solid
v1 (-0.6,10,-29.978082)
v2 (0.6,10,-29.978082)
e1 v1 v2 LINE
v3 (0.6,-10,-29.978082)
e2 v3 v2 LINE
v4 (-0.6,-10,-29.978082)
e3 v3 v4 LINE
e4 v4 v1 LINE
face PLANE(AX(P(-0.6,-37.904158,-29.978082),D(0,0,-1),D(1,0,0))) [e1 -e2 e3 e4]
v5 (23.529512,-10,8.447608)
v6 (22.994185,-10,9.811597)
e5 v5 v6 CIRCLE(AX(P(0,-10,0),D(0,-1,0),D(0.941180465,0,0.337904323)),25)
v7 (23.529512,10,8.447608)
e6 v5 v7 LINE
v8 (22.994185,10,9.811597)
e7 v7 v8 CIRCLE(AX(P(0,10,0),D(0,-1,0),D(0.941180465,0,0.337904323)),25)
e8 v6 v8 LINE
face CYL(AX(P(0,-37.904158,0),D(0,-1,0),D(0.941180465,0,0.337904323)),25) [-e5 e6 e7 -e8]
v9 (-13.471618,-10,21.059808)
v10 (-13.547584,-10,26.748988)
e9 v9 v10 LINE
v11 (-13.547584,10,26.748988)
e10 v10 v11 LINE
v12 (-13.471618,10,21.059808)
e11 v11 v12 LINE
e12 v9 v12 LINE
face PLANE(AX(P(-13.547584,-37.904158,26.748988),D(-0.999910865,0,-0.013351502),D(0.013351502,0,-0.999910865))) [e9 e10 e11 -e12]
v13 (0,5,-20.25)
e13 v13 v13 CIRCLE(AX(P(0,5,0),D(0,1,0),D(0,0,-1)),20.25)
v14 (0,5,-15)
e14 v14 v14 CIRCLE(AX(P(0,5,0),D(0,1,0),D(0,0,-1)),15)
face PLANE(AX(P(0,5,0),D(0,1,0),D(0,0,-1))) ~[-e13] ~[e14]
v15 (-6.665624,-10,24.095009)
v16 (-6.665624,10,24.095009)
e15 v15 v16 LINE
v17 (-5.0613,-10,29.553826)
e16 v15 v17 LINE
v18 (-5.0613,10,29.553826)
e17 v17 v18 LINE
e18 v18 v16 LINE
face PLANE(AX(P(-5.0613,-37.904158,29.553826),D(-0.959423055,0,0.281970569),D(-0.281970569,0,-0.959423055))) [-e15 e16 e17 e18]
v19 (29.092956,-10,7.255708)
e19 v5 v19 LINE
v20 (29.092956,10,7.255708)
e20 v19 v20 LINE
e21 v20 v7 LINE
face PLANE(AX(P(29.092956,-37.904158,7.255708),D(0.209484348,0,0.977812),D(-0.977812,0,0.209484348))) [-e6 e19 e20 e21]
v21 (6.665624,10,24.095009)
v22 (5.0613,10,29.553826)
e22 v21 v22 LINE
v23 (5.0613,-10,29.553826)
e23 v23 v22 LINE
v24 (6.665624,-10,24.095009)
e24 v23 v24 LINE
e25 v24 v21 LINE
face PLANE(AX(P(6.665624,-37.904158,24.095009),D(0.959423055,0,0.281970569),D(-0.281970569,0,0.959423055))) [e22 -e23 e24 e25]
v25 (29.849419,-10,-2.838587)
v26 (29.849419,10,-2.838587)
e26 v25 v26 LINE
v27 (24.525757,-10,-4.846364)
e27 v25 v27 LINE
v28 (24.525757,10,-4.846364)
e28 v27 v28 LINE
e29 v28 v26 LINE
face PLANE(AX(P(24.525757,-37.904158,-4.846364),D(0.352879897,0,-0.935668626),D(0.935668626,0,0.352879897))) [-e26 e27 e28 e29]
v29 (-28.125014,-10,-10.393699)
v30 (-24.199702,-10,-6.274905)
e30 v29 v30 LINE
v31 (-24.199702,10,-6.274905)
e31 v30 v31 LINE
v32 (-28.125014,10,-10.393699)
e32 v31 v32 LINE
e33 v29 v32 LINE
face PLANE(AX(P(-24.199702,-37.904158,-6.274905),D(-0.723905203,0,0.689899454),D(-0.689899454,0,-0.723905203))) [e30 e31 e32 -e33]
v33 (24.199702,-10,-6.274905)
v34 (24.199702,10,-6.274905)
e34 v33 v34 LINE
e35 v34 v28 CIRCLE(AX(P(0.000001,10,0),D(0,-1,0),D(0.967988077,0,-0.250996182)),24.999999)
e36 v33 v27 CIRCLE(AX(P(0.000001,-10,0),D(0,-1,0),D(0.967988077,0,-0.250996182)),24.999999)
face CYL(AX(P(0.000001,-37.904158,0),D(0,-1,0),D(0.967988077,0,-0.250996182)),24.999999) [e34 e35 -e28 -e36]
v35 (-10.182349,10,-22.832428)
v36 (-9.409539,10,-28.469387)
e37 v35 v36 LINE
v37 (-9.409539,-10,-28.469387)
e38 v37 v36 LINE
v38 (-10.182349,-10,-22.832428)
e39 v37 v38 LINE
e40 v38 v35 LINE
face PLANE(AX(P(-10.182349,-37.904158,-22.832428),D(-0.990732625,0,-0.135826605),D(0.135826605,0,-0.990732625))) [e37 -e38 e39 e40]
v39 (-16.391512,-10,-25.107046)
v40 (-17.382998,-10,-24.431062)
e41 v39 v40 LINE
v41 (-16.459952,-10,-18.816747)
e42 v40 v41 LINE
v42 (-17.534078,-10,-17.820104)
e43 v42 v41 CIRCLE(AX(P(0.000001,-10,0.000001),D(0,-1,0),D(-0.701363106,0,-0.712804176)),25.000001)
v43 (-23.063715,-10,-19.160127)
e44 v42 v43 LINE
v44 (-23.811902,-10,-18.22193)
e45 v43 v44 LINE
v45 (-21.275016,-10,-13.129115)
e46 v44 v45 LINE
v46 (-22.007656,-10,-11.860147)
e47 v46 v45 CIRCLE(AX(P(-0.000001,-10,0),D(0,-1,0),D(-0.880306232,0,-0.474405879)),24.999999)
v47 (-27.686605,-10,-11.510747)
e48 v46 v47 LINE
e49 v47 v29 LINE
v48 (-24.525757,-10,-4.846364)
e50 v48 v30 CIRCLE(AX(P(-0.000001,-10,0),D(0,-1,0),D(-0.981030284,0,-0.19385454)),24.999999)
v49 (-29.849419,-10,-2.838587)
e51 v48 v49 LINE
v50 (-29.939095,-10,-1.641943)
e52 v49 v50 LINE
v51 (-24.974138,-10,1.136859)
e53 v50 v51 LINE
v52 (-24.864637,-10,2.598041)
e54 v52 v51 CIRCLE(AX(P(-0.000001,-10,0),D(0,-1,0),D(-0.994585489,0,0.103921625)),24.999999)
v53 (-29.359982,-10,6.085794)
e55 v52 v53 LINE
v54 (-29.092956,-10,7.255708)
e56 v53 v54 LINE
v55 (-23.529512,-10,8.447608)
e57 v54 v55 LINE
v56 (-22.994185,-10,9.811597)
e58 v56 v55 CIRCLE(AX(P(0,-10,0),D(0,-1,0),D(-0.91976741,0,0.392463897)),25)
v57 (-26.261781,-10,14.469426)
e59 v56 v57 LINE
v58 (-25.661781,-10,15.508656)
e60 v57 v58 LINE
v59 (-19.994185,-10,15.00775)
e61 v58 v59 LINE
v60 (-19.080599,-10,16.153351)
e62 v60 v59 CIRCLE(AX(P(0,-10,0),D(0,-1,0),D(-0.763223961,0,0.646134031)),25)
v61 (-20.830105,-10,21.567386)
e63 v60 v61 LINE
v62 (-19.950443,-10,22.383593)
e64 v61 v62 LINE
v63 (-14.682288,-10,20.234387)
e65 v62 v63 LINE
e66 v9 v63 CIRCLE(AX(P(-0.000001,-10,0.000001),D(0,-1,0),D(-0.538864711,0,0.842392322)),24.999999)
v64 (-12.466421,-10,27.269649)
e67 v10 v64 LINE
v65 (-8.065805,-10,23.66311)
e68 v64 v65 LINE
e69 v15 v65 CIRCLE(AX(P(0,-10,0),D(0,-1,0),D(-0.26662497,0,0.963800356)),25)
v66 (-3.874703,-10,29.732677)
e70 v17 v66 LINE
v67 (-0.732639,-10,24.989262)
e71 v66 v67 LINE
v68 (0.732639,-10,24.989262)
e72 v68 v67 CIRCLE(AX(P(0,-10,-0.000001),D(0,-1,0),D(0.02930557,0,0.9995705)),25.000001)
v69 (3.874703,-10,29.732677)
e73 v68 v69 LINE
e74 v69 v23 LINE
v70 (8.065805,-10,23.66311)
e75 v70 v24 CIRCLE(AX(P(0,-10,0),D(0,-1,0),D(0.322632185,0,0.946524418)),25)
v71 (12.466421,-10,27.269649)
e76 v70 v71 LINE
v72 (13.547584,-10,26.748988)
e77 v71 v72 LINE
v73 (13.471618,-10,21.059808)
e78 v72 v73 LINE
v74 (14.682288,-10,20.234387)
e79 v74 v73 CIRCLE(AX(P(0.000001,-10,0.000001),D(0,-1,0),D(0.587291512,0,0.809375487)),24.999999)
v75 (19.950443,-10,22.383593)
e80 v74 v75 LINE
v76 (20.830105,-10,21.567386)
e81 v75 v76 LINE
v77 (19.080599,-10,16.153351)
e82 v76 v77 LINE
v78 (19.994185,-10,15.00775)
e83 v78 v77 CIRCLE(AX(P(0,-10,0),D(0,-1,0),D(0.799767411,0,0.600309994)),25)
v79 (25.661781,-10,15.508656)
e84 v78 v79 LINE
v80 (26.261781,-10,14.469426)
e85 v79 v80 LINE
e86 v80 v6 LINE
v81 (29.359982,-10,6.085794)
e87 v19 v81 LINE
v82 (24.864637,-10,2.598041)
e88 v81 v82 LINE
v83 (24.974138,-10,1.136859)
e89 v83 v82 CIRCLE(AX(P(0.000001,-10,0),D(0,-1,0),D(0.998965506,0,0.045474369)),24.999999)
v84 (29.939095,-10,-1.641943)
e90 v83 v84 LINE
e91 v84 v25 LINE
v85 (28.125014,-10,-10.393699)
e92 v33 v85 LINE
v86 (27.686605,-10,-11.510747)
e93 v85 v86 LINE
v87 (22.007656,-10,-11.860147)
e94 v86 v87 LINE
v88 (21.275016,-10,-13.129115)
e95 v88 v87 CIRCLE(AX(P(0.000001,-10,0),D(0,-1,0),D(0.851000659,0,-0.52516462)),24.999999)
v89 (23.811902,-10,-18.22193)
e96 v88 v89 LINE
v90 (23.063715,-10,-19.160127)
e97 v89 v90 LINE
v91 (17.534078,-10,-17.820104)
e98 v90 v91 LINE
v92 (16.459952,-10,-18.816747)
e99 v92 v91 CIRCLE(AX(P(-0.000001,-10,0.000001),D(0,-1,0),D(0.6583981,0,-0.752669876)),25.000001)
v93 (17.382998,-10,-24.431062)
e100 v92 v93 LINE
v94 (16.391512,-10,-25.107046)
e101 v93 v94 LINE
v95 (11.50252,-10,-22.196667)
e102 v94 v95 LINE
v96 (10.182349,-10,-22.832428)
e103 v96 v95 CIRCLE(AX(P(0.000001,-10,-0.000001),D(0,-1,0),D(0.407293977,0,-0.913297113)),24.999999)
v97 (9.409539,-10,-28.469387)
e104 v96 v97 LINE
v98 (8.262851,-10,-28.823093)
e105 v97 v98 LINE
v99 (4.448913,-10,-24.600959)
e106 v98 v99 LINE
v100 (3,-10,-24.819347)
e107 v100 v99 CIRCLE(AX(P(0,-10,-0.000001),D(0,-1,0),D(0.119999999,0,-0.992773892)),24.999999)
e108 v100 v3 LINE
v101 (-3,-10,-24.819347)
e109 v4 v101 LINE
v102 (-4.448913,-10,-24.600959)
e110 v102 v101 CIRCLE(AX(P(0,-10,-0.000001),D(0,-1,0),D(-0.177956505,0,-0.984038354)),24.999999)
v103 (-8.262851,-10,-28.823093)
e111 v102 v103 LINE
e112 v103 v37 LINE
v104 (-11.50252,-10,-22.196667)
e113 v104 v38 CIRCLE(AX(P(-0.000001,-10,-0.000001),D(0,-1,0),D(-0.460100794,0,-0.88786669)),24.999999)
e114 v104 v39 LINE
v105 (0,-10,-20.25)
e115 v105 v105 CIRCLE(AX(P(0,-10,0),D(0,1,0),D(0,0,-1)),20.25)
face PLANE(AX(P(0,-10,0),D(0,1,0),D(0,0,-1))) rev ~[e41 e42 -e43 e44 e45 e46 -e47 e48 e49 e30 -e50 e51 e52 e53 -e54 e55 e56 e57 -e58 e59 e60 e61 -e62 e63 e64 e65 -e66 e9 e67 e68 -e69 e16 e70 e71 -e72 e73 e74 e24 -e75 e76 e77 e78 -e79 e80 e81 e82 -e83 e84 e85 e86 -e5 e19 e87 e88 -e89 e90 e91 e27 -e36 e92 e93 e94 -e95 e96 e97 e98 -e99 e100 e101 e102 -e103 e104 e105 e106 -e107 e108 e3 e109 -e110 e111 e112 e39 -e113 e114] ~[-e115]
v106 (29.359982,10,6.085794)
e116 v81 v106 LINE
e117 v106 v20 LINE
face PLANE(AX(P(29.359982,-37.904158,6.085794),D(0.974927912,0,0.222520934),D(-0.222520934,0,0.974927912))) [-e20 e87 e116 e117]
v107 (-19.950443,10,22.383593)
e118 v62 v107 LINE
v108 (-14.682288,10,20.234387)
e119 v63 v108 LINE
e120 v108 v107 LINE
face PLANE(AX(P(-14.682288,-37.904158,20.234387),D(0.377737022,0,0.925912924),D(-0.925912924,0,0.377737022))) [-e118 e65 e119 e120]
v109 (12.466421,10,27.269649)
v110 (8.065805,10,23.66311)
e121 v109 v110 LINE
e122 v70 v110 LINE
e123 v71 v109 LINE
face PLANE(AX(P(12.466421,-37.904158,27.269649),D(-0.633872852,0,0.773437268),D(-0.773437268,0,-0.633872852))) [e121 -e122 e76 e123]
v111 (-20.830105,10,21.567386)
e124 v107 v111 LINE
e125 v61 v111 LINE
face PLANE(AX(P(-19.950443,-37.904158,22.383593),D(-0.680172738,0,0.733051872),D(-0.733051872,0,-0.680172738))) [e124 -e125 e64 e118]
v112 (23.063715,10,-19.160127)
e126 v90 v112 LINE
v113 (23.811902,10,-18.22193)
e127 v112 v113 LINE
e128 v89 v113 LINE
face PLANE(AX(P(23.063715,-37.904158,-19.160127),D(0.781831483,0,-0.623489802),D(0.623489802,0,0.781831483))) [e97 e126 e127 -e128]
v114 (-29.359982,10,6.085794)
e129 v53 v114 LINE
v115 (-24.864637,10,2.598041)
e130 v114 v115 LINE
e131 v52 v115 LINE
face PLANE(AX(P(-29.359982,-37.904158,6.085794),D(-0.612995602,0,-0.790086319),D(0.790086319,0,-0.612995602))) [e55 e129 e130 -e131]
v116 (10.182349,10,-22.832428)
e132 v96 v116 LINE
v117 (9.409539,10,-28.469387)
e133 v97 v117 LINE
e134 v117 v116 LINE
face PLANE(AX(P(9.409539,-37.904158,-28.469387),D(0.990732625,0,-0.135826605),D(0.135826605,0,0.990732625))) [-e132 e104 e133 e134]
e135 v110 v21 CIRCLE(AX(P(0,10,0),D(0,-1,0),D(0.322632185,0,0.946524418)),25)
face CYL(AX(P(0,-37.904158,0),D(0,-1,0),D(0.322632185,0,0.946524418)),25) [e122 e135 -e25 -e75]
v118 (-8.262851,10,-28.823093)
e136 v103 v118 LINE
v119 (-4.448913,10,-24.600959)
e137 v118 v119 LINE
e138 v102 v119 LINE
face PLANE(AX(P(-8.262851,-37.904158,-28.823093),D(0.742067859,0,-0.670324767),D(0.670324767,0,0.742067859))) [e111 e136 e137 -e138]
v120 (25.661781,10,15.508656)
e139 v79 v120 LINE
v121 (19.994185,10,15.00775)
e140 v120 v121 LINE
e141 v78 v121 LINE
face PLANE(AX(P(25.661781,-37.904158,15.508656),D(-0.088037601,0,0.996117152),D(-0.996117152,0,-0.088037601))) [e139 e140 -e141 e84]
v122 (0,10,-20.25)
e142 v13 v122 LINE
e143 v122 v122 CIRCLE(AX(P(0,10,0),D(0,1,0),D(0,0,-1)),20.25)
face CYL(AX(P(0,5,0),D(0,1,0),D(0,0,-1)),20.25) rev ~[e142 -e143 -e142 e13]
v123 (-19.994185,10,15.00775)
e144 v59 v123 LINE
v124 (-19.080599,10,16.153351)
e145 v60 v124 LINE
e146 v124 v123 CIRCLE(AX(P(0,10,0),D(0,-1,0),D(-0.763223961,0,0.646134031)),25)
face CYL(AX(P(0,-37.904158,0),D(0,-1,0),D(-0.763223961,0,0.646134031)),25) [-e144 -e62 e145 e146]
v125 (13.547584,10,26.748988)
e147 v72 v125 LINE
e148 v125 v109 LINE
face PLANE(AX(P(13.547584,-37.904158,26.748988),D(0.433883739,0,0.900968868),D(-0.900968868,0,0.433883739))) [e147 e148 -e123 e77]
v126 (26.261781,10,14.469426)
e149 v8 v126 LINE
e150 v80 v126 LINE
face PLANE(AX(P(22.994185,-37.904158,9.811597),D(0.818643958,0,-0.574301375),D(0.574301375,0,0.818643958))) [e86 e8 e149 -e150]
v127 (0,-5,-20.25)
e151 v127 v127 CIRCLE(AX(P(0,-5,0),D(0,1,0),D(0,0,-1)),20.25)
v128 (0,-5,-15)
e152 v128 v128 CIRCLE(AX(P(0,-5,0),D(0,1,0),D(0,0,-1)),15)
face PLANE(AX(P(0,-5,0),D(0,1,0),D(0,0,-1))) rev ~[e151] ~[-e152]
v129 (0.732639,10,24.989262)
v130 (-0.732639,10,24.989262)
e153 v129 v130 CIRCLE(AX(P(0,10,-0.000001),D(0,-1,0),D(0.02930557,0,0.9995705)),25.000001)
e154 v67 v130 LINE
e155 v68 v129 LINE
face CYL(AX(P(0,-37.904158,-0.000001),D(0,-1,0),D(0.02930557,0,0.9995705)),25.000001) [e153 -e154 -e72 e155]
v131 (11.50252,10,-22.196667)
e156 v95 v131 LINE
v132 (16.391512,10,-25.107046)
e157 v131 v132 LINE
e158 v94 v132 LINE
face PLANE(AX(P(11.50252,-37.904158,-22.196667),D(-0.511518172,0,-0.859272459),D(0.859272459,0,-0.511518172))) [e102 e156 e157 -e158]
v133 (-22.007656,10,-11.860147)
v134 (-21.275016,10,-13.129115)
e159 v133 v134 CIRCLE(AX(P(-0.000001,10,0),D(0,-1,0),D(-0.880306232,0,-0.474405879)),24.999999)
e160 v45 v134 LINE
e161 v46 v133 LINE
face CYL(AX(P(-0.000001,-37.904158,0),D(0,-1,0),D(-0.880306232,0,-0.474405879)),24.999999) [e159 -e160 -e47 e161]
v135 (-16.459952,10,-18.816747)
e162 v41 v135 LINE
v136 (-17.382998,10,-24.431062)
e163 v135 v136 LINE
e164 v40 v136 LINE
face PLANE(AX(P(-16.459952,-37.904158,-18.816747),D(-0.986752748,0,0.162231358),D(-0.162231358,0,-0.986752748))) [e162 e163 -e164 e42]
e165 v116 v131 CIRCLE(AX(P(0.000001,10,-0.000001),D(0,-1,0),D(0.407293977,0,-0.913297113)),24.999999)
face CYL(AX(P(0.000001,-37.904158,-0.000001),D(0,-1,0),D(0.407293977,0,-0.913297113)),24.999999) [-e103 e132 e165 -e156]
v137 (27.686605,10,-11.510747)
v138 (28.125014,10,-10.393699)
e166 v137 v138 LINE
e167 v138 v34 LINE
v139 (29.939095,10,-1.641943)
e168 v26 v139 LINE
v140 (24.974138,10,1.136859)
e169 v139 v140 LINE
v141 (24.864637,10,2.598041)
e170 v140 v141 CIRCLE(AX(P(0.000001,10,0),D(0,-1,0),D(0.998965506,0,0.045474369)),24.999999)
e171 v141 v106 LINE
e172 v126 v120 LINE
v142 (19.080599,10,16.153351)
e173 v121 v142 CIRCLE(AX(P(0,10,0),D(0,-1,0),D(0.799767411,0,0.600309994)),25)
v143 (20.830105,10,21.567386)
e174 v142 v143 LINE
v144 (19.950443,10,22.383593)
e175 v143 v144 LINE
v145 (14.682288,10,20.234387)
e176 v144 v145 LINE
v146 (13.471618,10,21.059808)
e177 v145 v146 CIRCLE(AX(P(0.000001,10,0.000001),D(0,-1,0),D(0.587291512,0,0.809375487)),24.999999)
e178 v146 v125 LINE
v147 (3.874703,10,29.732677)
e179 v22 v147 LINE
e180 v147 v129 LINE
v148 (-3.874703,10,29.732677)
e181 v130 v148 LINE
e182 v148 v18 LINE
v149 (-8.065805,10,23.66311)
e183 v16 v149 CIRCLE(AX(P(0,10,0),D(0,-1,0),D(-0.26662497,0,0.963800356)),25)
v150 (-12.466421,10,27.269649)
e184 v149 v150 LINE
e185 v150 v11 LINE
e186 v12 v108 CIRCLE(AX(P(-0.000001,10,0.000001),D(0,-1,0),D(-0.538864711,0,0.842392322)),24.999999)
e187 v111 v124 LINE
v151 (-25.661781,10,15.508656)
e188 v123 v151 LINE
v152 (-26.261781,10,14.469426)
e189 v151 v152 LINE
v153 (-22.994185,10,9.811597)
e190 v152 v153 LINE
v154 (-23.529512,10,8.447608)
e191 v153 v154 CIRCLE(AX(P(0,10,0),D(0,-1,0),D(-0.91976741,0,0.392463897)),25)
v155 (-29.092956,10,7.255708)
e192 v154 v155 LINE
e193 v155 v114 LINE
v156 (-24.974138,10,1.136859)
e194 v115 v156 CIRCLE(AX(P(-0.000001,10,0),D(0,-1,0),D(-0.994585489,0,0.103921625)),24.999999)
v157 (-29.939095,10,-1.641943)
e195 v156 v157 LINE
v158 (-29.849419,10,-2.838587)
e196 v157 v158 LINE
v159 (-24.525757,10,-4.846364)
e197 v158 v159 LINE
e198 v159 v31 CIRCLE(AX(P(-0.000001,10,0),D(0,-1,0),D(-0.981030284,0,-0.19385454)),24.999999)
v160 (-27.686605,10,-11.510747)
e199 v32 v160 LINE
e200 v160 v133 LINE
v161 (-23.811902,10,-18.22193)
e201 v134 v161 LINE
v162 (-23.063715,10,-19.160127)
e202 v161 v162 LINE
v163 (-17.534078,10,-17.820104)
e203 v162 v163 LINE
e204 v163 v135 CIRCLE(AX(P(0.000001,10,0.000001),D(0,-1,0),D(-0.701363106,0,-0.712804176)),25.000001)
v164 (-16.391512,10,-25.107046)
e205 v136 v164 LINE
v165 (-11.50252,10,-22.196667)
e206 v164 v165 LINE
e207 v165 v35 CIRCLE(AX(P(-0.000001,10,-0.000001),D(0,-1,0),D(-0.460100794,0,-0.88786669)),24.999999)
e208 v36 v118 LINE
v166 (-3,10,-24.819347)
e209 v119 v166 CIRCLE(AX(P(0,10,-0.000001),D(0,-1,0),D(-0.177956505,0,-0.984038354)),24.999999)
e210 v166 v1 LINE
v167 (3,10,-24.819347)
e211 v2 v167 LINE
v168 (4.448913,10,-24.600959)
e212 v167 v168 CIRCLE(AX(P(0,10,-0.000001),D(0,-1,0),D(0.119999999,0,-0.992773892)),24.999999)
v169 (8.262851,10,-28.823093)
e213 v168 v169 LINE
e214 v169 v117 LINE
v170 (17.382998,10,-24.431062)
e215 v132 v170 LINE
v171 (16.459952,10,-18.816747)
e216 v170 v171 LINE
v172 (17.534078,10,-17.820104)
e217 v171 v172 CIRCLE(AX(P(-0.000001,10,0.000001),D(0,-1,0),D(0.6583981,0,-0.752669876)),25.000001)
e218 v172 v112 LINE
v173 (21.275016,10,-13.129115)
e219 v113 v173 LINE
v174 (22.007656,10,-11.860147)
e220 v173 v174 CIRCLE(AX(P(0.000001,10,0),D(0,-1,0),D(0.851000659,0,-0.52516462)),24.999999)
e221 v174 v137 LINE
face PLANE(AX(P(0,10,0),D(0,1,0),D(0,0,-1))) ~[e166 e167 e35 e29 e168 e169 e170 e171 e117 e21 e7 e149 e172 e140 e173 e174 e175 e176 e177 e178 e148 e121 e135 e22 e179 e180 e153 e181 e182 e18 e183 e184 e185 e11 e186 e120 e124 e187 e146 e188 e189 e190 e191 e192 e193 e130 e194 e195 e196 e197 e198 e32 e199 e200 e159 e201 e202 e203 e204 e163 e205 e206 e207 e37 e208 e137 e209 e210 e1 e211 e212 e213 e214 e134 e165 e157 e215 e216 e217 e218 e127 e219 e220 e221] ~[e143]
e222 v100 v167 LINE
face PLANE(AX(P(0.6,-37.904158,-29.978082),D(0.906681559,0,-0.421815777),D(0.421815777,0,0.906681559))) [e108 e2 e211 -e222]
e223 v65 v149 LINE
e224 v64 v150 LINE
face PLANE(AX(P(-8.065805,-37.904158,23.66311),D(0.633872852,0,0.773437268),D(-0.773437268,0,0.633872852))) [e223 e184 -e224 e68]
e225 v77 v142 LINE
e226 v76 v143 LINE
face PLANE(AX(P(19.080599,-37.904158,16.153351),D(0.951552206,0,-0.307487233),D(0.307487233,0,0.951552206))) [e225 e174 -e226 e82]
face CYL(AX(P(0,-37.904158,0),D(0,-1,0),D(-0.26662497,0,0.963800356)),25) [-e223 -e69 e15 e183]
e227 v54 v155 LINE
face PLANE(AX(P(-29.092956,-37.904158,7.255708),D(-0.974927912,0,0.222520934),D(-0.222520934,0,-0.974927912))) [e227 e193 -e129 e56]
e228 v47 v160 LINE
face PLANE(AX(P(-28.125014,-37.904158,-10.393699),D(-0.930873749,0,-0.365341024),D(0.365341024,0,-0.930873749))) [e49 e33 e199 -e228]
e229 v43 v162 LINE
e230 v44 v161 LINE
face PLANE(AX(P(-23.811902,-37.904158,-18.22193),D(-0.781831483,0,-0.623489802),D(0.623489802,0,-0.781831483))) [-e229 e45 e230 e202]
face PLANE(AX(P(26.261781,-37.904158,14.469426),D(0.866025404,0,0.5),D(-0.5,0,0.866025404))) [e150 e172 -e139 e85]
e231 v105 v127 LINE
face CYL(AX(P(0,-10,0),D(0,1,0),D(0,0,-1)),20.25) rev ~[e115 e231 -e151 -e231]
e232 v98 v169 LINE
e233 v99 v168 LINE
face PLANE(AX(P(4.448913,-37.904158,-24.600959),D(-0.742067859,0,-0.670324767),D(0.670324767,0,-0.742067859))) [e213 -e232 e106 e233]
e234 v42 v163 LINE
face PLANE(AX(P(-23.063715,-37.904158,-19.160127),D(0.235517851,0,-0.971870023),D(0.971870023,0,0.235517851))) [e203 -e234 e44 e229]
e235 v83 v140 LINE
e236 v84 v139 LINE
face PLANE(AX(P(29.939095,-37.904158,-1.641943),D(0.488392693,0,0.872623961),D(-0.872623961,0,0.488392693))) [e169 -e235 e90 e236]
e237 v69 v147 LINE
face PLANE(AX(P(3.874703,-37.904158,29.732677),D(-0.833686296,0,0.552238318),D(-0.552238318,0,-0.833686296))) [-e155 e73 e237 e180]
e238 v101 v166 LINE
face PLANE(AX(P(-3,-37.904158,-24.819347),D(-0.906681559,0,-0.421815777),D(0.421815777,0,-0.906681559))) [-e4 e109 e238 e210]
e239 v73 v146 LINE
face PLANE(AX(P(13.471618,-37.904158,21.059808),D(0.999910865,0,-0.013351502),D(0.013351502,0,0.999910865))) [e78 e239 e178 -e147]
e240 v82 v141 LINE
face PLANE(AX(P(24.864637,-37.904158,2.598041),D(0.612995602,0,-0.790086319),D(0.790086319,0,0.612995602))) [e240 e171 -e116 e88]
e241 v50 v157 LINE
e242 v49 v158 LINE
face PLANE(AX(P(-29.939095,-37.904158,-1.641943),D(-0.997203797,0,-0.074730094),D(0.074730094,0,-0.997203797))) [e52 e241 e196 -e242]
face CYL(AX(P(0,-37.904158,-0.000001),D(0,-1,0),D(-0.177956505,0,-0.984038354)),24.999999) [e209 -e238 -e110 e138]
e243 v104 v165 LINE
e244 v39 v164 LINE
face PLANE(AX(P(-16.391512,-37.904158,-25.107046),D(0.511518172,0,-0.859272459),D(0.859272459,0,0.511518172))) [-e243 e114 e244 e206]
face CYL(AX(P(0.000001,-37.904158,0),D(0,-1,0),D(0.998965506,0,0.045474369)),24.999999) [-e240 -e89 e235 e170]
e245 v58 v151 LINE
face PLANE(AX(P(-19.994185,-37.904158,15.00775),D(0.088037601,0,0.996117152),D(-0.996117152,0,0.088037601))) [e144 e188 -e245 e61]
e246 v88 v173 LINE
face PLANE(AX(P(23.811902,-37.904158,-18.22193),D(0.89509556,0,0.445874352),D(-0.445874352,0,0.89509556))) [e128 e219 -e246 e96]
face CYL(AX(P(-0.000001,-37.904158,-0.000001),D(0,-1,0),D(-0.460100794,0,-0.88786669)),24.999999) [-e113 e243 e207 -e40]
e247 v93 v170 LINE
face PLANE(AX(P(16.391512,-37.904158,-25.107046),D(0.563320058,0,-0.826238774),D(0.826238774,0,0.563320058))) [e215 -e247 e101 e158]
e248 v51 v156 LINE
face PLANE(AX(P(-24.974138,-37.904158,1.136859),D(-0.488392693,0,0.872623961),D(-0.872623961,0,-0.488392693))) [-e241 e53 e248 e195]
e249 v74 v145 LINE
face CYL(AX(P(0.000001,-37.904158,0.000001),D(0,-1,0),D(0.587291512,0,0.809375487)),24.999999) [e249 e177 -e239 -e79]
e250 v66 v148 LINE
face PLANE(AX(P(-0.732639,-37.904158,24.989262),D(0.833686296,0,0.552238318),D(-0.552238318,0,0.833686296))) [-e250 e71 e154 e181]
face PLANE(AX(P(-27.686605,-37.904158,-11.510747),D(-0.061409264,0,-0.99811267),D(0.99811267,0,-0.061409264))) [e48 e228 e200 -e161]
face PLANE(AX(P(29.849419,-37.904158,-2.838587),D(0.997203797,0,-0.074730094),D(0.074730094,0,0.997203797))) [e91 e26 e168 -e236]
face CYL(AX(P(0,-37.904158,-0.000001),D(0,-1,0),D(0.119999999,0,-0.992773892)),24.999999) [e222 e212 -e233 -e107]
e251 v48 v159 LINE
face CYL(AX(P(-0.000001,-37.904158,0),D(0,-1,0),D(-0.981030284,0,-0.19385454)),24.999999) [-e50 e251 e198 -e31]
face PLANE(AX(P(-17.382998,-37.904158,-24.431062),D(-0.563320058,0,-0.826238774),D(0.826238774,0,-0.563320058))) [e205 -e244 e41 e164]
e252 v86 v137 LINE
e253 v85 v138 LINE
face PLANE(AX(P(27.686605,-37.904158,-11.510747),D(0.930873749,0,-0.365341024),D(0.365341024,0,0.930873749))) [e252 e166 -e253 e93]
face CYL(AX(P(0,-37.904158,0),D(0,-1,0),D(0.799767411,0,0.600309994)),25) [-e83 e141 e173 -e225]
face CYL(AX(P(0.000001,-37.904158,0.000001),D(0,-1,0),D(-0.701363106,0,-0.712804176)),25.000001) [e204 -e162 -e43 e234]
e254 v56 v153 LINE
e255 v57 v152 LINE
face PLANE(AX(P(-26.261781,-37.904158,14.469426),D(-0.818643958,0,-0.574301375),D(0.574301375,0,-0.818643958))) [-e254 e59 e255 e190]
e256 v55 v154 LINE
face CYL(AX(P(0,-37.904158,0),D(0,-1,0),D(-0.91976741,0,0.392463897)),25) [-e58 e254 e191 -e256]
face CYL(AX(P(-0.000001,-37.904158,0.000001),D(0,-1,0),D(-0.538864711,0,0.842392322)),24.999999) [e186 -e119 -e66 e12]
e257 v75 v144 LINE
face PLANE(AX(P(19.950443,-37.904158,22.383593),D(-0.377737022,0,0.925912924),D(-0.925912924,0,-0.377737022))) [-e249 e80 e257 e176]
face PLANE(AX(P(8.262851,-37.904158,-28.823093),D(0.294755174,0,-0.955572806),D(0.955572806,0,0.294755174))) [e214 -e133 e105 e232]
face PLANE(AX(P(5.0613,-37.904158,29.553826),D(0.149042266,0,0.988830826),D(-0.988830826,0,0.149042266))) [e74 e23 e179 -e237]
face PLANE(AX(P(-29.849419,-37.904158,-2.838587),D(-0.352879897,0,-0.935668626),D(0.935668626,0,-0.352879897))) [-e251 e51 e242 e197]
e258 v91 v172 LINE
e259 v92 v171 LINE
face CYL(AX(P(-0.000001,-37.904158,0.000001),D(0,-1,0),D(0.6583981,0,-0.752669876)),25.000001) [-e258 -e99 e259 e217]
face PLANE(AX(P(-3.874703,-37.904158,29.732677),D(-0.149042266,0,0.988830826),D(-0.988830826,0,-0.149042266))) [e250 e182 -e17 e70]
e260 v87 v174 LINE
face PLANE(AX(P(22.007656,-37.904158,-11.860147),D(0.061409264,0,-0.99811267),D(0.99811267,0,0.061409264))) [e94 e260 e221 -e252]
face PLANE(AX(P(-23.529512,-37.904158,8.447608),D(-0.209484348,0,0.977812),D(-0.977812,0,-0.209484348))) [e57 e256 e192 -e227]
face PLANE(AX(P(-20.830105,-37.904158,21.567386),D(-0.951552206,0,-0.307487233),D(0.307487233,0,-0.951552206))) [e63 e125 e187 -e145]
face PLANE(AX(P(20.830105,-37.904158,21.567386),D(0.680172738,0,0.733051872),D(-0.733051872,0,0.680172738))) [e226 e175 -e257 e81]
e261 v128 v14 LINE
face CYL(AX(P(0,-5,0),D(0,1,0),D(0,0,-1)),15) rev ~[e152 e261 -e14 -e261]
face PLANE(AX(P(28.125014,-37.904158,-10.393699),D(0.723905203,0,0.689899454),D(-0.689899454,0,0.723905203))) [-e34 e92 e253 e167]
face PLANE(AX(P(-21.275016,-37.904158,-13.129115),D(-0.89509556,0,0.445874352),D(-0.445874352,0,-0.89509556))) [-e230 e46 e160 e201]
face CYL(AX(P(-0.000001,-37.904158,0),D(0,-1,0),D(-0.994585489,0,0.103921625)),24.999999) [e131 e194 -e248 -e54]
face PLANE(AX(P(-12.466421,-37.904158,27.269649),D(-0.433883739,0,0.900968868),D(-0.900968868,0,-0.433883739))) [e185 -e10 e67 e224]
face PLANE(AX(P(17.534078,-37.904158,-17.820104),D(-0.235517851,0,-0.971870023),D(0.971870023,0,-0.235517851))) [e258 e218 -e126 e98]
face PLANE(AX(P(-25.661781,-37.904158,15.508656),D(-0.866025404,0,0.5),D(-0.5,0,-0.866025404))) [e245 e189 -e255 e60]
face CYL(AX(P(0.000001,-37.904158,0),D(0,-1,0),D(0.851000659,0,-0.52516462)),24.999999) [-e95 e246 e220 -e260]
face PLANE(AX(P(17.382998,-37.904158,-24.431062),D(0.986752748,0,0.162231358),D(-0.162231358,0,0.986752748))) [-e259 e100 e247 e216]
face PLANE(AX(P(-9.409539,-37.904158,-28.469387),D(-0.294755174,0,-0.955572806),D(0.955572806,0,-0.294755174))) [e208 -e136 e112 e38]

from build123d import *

# Parameters (mm, degrees)
CUT_EXTRUDE1_DEPTH      = 47.904157598
CUT_EXTRUDE1_DEPTH_BACK = 47.904157598
SKETCH2_R               = 30


with BuildPart() as part:
    # Sketch1 → Revolve1 (revolve)
    with BuildSketch(Plane(origin=(0, 0, 0), x_dir=(0, 0, -1), z_dir=(1, 0, 0))):
        Polygon((20.25, 10), (30, 10), (30, -10), (20.25, -10), (20.25, -5), (15, -5), (15, 5), (20.25, 5), align=None)
    revolve(axis=Axis((0, 0, 0), (0, 1, 0)))

    # Sketch2 → Cut-Extrude1 (cut, two sides: drawn at the far end of the back side and taken through both)
    with BuildSketch(Plane(origin=(0, 10, 0), x_dir=(1, 0, 0), z_dir=(0, 1, 0)).offset(-CUT_EXTRUDE1_DEPTH_BACK)):
        Circle(SKETCH2_R)
        with BuildLine():
            Line((-3, 24.819347292), (-0.6, 29.978082123))
            Line((-0.6, 29.978082123), (0.6, 29.978082123))
            Line((0.6, 29.978082123), (3, 24.819347292))
            ThreePointArc((3, 24.819347292), (3.726056654, 24.720770656), (4.448912622, 24.600958853))
            Line((4.448912622, 24.600958853), (8.262851141, 28.823093151))
            Line((8.262851141, 28.823093151), (9.409538508, 28.469386942))
            Line((9.409538508, 28.469386942), (10.182349457, 22.832427806))
            ThreePointArc((10.182349457, 22.832427806), (10.847093478, 22.524221698), (11.502519835, 22.19666726))
            Line((11.502519835, 22.19666726), (16.391511698, 25.107045865))
            Line((16.391511698, 25.107045865), (17.382998227, 24.431061795))
            Line((17.382998227, 24.431061795), (16.459952481, 18.816746912))
            ThreePointArc((16.459952481, 18.816746912), (17.004318444, 18.326296796), (17.534077682, 17.820104373))
            Line((17.534077682, 17.820104373), (23.063714507, 19.160127373))
            Line((23.063714507, 19.160127373), (23.811902269, 18.221929594))
            Line((23.811902269, 18.221929594), (21.275016493, 13.129115478))
            ThreePointArc((21.275016493, 13.129115478), (21.650635095, 12.5), (22.007655779, 11.86014701))
            Line((22.007655779, 11.86014701), (27.686605069, 11.510747481))
            Line((27.686605069, 11.510747481), (28.125014298, 10.393698982))
            Line((28.125014298, 10.393698982), (24.199701926, 6.274904518))
            ThreePointArc((24.199701926, 6.274904518), (24.373197805, 5.563023349), (24.525757082, 4.846363537))
            Line((24.525757082, 4.846363537), (29.849419269, 2.838587161))
            Line((29.849419269, 2.838587161), (29.939095382, 1.641942604))
            Line((29.939095382, 1.641942604), (24.974137644, -1.136859246))
            ThreePointArc((24.974137644, -1.136859246), (24.93009493, -1.86825234), (24.864637239, -2.598040603))
            Line((24.864637239, -2.598040603), (29.359981576, -6.085794085))
            Line((29.359981576, -6.085794085), (29.092956455, -7.25570758))
            Line((29.092956455, -7.25570758), (23.529511635, -8.447608076))
            ThreePointArc((23.529511635, -8.447608076), (23.271843716, -9.133525609), (22.99418526, -9.811597435))
            Line((22.99418526, -9.811597435), (26.261780675, -14.469425819))
            Line((26.261780675, -14.469425819), (25.661780675, -15.508656304))
            Line((25.661780675, -15.508656304), (19.99418526, -15.007749857))
            ThreePointArc((19.99418526, -15.007749857), (19.545787062, -15.587245046), (19.080599013, -16.153350777))
            Line((19.080599013, -16.153350777), (20.830105314, -21.567385572))
            Line((20.830105314, -21.567385572), (19.950443068, -22.383592857))
            Line((19.950443068, -22.383592857), (14.682287782, -20.234387203))
            ThreePointArc((14.682287782, -20.234387203), (14.083001452, -20.655969358), (13.471617809, -21.059808014))
            Line((13.471617809, -21.059808014), (13.547583684, -26.748988469))
            Line((13.547583684, -26.748988469), (12.466421042, -27.269648956))
            Line((12.466421042, -27.269648956), (8.065804602, -23.663110449))
            ThreePointArc((8.065804602, -23.663110449), (7.36887936, -23.889320145), (6.665624244, -24.095008891))
            Line((6.665624244, -24.095008891), (5.061299791, -29.553826355))
            Line((5.061299791, -29.553826355), (3.8747028, -29.732677074))
            Line((3.8747028, -29.732677074), (0.732639287, -24.989262488))
            ThreePointArc((0.732639287, -24.989262488), (0, -25), (-0.732639287, -24.989262488))
            Line((-0.732639287, -24.989262488), (-3.8747028, -29.732677074))
            Line((-3.8747028, -29.732677074), (-5.061299791, -29.553826355))
            Line((-5.061299791, -29.553826355), (-6.665624244, -24.095008891))
            ThreePointArc((-6.665624244, -24.095008891), (-7.36887936, -23.889320145), (-8.065804602, -23.663110449))
            Line((-8.065804602, -23.663110449), (-12.466421042, -27.269648956))
            Line((-12.466421042, -27.269648956), (-13.547583684, -26.748988469))
            Line((-13.547583684, -26.748988469), (-13.471617809, -21.059808014))
            ThreePointArc((-13.471617809, -21.059808014), (-14.083001452, -20.655969358), (-14.682287782, -20.234387203))
            Line((-14.682287782, -20.234387203), (-19.950443068, -22.383592857))
            Line((-19.950443068, -22.383592857), (-20.830105314, -21.567385572))
            Line((-20.830105314, -21.567385572), (-19.080599013, -16.153350777))
            ThreePointArc((-19.080599013, -16.153350777), (-19.545787062, -15.587245046), (-19.99418526, -15.007749857))
            Line((-19.99418526, -15.007749857), (-25.661780675, -15.508656304))
            Line((-25.661780675, -15.508656304), (-26.261780675, -14.469425819))
            Line((-26.261780675, -14.469425819), (-22.99418526, -9.811597435))
            ThreePointArc((-22.99418526, -9.811597435), (-23.271843716, -9.133525609), (-23.529511635, -8.447608076))
            Line((-23.529511635, -8.447608076), (-29.092956455, -7.25570758))
            Line((-29.092956455, -7.25570758), (-29.359981576, -6.085794085))
            Line((-29.359981576, -6.085794085), (-24.864637239, -2.598040603))
            ThreePointArc((-24.864637239, -2.598040603), (-24.93009493, -1.86825234), (-24.974137644, -1.136859246))
            Line((-24.974137644, -1.136859246), (-29.939095382, 1.641942604))
            Line((-29.939095382, 1.641942604), (-29.849419269, 2.838587161))
            Line((-29.849419269, 2.838587161), (-24.525757082, 4.846363537))
            ThreePointArc((-24.525757082, 4.846363537), (-24.373197805, 5.563023349), (-24.199701926, 6.274904518))
            Line((-24.199701926, 6.274904518), (-28.125014298, 10.393698982))
            Line((-28.125014298, 10.393698982), (-27.686605069, 11.510747481))
            Line((-27.686605069, 11.510747481), (-22.007655779, 11.86014701))
            ThreePointArc((-22.007655779, 11.86014701), (-21.650635095, 12.5), (-21.275016493, 13.129115478))
            Line((-21.275016493, 13.129115478), (-23.811902269, 18.221929594))
            Line((-23.811902269, 18.221929594), (-23.063714507, 19.160127373))
            Line((-23.063714507, 19.160127373), (-17.534077682, 17.820104373))
            ThreePointArc((-17.534077682, 17.820104373), (-17.004318444, 18.326296796), (-16.459952481, 18.816746912))
            Line((-16.459952481, 18.816746912), (-17.382998227, 24.431061795))
            Line((-17.382998227, 24.431061795), (-16.391511698, 25.107045865))
            Line((-16.391511698, 25.107045865), (-11.502519835, 22.19666726))
            ThreePointArc((-11.502519835, 22.19666726), (-10.847093478, 22.524221698), (-10.182349457, 22.832427806))
            Line((-10.182349457, 22.832427806), (-9.409538508, 28.469386942))
            Line((-9.409538508, 28.469386942), (-8.262851141, 28.823093151))
            Line((-8.262851141, 28.823093151), (-4.448912622, 24.600958853))
            ThreePointArc((-4.448912622, 24.600958853), (-3.726056654, 24.720770656), (-3, 24.819347292))
        make_face(mode=Mode.SUBTRACT)
    extrude(amount=CUT_EXTRUDE1_DEPTH + CUT_EXTRUDE1_DEPTH_BACK, mode=Mode.SUBTRACT)


solid = part.part
